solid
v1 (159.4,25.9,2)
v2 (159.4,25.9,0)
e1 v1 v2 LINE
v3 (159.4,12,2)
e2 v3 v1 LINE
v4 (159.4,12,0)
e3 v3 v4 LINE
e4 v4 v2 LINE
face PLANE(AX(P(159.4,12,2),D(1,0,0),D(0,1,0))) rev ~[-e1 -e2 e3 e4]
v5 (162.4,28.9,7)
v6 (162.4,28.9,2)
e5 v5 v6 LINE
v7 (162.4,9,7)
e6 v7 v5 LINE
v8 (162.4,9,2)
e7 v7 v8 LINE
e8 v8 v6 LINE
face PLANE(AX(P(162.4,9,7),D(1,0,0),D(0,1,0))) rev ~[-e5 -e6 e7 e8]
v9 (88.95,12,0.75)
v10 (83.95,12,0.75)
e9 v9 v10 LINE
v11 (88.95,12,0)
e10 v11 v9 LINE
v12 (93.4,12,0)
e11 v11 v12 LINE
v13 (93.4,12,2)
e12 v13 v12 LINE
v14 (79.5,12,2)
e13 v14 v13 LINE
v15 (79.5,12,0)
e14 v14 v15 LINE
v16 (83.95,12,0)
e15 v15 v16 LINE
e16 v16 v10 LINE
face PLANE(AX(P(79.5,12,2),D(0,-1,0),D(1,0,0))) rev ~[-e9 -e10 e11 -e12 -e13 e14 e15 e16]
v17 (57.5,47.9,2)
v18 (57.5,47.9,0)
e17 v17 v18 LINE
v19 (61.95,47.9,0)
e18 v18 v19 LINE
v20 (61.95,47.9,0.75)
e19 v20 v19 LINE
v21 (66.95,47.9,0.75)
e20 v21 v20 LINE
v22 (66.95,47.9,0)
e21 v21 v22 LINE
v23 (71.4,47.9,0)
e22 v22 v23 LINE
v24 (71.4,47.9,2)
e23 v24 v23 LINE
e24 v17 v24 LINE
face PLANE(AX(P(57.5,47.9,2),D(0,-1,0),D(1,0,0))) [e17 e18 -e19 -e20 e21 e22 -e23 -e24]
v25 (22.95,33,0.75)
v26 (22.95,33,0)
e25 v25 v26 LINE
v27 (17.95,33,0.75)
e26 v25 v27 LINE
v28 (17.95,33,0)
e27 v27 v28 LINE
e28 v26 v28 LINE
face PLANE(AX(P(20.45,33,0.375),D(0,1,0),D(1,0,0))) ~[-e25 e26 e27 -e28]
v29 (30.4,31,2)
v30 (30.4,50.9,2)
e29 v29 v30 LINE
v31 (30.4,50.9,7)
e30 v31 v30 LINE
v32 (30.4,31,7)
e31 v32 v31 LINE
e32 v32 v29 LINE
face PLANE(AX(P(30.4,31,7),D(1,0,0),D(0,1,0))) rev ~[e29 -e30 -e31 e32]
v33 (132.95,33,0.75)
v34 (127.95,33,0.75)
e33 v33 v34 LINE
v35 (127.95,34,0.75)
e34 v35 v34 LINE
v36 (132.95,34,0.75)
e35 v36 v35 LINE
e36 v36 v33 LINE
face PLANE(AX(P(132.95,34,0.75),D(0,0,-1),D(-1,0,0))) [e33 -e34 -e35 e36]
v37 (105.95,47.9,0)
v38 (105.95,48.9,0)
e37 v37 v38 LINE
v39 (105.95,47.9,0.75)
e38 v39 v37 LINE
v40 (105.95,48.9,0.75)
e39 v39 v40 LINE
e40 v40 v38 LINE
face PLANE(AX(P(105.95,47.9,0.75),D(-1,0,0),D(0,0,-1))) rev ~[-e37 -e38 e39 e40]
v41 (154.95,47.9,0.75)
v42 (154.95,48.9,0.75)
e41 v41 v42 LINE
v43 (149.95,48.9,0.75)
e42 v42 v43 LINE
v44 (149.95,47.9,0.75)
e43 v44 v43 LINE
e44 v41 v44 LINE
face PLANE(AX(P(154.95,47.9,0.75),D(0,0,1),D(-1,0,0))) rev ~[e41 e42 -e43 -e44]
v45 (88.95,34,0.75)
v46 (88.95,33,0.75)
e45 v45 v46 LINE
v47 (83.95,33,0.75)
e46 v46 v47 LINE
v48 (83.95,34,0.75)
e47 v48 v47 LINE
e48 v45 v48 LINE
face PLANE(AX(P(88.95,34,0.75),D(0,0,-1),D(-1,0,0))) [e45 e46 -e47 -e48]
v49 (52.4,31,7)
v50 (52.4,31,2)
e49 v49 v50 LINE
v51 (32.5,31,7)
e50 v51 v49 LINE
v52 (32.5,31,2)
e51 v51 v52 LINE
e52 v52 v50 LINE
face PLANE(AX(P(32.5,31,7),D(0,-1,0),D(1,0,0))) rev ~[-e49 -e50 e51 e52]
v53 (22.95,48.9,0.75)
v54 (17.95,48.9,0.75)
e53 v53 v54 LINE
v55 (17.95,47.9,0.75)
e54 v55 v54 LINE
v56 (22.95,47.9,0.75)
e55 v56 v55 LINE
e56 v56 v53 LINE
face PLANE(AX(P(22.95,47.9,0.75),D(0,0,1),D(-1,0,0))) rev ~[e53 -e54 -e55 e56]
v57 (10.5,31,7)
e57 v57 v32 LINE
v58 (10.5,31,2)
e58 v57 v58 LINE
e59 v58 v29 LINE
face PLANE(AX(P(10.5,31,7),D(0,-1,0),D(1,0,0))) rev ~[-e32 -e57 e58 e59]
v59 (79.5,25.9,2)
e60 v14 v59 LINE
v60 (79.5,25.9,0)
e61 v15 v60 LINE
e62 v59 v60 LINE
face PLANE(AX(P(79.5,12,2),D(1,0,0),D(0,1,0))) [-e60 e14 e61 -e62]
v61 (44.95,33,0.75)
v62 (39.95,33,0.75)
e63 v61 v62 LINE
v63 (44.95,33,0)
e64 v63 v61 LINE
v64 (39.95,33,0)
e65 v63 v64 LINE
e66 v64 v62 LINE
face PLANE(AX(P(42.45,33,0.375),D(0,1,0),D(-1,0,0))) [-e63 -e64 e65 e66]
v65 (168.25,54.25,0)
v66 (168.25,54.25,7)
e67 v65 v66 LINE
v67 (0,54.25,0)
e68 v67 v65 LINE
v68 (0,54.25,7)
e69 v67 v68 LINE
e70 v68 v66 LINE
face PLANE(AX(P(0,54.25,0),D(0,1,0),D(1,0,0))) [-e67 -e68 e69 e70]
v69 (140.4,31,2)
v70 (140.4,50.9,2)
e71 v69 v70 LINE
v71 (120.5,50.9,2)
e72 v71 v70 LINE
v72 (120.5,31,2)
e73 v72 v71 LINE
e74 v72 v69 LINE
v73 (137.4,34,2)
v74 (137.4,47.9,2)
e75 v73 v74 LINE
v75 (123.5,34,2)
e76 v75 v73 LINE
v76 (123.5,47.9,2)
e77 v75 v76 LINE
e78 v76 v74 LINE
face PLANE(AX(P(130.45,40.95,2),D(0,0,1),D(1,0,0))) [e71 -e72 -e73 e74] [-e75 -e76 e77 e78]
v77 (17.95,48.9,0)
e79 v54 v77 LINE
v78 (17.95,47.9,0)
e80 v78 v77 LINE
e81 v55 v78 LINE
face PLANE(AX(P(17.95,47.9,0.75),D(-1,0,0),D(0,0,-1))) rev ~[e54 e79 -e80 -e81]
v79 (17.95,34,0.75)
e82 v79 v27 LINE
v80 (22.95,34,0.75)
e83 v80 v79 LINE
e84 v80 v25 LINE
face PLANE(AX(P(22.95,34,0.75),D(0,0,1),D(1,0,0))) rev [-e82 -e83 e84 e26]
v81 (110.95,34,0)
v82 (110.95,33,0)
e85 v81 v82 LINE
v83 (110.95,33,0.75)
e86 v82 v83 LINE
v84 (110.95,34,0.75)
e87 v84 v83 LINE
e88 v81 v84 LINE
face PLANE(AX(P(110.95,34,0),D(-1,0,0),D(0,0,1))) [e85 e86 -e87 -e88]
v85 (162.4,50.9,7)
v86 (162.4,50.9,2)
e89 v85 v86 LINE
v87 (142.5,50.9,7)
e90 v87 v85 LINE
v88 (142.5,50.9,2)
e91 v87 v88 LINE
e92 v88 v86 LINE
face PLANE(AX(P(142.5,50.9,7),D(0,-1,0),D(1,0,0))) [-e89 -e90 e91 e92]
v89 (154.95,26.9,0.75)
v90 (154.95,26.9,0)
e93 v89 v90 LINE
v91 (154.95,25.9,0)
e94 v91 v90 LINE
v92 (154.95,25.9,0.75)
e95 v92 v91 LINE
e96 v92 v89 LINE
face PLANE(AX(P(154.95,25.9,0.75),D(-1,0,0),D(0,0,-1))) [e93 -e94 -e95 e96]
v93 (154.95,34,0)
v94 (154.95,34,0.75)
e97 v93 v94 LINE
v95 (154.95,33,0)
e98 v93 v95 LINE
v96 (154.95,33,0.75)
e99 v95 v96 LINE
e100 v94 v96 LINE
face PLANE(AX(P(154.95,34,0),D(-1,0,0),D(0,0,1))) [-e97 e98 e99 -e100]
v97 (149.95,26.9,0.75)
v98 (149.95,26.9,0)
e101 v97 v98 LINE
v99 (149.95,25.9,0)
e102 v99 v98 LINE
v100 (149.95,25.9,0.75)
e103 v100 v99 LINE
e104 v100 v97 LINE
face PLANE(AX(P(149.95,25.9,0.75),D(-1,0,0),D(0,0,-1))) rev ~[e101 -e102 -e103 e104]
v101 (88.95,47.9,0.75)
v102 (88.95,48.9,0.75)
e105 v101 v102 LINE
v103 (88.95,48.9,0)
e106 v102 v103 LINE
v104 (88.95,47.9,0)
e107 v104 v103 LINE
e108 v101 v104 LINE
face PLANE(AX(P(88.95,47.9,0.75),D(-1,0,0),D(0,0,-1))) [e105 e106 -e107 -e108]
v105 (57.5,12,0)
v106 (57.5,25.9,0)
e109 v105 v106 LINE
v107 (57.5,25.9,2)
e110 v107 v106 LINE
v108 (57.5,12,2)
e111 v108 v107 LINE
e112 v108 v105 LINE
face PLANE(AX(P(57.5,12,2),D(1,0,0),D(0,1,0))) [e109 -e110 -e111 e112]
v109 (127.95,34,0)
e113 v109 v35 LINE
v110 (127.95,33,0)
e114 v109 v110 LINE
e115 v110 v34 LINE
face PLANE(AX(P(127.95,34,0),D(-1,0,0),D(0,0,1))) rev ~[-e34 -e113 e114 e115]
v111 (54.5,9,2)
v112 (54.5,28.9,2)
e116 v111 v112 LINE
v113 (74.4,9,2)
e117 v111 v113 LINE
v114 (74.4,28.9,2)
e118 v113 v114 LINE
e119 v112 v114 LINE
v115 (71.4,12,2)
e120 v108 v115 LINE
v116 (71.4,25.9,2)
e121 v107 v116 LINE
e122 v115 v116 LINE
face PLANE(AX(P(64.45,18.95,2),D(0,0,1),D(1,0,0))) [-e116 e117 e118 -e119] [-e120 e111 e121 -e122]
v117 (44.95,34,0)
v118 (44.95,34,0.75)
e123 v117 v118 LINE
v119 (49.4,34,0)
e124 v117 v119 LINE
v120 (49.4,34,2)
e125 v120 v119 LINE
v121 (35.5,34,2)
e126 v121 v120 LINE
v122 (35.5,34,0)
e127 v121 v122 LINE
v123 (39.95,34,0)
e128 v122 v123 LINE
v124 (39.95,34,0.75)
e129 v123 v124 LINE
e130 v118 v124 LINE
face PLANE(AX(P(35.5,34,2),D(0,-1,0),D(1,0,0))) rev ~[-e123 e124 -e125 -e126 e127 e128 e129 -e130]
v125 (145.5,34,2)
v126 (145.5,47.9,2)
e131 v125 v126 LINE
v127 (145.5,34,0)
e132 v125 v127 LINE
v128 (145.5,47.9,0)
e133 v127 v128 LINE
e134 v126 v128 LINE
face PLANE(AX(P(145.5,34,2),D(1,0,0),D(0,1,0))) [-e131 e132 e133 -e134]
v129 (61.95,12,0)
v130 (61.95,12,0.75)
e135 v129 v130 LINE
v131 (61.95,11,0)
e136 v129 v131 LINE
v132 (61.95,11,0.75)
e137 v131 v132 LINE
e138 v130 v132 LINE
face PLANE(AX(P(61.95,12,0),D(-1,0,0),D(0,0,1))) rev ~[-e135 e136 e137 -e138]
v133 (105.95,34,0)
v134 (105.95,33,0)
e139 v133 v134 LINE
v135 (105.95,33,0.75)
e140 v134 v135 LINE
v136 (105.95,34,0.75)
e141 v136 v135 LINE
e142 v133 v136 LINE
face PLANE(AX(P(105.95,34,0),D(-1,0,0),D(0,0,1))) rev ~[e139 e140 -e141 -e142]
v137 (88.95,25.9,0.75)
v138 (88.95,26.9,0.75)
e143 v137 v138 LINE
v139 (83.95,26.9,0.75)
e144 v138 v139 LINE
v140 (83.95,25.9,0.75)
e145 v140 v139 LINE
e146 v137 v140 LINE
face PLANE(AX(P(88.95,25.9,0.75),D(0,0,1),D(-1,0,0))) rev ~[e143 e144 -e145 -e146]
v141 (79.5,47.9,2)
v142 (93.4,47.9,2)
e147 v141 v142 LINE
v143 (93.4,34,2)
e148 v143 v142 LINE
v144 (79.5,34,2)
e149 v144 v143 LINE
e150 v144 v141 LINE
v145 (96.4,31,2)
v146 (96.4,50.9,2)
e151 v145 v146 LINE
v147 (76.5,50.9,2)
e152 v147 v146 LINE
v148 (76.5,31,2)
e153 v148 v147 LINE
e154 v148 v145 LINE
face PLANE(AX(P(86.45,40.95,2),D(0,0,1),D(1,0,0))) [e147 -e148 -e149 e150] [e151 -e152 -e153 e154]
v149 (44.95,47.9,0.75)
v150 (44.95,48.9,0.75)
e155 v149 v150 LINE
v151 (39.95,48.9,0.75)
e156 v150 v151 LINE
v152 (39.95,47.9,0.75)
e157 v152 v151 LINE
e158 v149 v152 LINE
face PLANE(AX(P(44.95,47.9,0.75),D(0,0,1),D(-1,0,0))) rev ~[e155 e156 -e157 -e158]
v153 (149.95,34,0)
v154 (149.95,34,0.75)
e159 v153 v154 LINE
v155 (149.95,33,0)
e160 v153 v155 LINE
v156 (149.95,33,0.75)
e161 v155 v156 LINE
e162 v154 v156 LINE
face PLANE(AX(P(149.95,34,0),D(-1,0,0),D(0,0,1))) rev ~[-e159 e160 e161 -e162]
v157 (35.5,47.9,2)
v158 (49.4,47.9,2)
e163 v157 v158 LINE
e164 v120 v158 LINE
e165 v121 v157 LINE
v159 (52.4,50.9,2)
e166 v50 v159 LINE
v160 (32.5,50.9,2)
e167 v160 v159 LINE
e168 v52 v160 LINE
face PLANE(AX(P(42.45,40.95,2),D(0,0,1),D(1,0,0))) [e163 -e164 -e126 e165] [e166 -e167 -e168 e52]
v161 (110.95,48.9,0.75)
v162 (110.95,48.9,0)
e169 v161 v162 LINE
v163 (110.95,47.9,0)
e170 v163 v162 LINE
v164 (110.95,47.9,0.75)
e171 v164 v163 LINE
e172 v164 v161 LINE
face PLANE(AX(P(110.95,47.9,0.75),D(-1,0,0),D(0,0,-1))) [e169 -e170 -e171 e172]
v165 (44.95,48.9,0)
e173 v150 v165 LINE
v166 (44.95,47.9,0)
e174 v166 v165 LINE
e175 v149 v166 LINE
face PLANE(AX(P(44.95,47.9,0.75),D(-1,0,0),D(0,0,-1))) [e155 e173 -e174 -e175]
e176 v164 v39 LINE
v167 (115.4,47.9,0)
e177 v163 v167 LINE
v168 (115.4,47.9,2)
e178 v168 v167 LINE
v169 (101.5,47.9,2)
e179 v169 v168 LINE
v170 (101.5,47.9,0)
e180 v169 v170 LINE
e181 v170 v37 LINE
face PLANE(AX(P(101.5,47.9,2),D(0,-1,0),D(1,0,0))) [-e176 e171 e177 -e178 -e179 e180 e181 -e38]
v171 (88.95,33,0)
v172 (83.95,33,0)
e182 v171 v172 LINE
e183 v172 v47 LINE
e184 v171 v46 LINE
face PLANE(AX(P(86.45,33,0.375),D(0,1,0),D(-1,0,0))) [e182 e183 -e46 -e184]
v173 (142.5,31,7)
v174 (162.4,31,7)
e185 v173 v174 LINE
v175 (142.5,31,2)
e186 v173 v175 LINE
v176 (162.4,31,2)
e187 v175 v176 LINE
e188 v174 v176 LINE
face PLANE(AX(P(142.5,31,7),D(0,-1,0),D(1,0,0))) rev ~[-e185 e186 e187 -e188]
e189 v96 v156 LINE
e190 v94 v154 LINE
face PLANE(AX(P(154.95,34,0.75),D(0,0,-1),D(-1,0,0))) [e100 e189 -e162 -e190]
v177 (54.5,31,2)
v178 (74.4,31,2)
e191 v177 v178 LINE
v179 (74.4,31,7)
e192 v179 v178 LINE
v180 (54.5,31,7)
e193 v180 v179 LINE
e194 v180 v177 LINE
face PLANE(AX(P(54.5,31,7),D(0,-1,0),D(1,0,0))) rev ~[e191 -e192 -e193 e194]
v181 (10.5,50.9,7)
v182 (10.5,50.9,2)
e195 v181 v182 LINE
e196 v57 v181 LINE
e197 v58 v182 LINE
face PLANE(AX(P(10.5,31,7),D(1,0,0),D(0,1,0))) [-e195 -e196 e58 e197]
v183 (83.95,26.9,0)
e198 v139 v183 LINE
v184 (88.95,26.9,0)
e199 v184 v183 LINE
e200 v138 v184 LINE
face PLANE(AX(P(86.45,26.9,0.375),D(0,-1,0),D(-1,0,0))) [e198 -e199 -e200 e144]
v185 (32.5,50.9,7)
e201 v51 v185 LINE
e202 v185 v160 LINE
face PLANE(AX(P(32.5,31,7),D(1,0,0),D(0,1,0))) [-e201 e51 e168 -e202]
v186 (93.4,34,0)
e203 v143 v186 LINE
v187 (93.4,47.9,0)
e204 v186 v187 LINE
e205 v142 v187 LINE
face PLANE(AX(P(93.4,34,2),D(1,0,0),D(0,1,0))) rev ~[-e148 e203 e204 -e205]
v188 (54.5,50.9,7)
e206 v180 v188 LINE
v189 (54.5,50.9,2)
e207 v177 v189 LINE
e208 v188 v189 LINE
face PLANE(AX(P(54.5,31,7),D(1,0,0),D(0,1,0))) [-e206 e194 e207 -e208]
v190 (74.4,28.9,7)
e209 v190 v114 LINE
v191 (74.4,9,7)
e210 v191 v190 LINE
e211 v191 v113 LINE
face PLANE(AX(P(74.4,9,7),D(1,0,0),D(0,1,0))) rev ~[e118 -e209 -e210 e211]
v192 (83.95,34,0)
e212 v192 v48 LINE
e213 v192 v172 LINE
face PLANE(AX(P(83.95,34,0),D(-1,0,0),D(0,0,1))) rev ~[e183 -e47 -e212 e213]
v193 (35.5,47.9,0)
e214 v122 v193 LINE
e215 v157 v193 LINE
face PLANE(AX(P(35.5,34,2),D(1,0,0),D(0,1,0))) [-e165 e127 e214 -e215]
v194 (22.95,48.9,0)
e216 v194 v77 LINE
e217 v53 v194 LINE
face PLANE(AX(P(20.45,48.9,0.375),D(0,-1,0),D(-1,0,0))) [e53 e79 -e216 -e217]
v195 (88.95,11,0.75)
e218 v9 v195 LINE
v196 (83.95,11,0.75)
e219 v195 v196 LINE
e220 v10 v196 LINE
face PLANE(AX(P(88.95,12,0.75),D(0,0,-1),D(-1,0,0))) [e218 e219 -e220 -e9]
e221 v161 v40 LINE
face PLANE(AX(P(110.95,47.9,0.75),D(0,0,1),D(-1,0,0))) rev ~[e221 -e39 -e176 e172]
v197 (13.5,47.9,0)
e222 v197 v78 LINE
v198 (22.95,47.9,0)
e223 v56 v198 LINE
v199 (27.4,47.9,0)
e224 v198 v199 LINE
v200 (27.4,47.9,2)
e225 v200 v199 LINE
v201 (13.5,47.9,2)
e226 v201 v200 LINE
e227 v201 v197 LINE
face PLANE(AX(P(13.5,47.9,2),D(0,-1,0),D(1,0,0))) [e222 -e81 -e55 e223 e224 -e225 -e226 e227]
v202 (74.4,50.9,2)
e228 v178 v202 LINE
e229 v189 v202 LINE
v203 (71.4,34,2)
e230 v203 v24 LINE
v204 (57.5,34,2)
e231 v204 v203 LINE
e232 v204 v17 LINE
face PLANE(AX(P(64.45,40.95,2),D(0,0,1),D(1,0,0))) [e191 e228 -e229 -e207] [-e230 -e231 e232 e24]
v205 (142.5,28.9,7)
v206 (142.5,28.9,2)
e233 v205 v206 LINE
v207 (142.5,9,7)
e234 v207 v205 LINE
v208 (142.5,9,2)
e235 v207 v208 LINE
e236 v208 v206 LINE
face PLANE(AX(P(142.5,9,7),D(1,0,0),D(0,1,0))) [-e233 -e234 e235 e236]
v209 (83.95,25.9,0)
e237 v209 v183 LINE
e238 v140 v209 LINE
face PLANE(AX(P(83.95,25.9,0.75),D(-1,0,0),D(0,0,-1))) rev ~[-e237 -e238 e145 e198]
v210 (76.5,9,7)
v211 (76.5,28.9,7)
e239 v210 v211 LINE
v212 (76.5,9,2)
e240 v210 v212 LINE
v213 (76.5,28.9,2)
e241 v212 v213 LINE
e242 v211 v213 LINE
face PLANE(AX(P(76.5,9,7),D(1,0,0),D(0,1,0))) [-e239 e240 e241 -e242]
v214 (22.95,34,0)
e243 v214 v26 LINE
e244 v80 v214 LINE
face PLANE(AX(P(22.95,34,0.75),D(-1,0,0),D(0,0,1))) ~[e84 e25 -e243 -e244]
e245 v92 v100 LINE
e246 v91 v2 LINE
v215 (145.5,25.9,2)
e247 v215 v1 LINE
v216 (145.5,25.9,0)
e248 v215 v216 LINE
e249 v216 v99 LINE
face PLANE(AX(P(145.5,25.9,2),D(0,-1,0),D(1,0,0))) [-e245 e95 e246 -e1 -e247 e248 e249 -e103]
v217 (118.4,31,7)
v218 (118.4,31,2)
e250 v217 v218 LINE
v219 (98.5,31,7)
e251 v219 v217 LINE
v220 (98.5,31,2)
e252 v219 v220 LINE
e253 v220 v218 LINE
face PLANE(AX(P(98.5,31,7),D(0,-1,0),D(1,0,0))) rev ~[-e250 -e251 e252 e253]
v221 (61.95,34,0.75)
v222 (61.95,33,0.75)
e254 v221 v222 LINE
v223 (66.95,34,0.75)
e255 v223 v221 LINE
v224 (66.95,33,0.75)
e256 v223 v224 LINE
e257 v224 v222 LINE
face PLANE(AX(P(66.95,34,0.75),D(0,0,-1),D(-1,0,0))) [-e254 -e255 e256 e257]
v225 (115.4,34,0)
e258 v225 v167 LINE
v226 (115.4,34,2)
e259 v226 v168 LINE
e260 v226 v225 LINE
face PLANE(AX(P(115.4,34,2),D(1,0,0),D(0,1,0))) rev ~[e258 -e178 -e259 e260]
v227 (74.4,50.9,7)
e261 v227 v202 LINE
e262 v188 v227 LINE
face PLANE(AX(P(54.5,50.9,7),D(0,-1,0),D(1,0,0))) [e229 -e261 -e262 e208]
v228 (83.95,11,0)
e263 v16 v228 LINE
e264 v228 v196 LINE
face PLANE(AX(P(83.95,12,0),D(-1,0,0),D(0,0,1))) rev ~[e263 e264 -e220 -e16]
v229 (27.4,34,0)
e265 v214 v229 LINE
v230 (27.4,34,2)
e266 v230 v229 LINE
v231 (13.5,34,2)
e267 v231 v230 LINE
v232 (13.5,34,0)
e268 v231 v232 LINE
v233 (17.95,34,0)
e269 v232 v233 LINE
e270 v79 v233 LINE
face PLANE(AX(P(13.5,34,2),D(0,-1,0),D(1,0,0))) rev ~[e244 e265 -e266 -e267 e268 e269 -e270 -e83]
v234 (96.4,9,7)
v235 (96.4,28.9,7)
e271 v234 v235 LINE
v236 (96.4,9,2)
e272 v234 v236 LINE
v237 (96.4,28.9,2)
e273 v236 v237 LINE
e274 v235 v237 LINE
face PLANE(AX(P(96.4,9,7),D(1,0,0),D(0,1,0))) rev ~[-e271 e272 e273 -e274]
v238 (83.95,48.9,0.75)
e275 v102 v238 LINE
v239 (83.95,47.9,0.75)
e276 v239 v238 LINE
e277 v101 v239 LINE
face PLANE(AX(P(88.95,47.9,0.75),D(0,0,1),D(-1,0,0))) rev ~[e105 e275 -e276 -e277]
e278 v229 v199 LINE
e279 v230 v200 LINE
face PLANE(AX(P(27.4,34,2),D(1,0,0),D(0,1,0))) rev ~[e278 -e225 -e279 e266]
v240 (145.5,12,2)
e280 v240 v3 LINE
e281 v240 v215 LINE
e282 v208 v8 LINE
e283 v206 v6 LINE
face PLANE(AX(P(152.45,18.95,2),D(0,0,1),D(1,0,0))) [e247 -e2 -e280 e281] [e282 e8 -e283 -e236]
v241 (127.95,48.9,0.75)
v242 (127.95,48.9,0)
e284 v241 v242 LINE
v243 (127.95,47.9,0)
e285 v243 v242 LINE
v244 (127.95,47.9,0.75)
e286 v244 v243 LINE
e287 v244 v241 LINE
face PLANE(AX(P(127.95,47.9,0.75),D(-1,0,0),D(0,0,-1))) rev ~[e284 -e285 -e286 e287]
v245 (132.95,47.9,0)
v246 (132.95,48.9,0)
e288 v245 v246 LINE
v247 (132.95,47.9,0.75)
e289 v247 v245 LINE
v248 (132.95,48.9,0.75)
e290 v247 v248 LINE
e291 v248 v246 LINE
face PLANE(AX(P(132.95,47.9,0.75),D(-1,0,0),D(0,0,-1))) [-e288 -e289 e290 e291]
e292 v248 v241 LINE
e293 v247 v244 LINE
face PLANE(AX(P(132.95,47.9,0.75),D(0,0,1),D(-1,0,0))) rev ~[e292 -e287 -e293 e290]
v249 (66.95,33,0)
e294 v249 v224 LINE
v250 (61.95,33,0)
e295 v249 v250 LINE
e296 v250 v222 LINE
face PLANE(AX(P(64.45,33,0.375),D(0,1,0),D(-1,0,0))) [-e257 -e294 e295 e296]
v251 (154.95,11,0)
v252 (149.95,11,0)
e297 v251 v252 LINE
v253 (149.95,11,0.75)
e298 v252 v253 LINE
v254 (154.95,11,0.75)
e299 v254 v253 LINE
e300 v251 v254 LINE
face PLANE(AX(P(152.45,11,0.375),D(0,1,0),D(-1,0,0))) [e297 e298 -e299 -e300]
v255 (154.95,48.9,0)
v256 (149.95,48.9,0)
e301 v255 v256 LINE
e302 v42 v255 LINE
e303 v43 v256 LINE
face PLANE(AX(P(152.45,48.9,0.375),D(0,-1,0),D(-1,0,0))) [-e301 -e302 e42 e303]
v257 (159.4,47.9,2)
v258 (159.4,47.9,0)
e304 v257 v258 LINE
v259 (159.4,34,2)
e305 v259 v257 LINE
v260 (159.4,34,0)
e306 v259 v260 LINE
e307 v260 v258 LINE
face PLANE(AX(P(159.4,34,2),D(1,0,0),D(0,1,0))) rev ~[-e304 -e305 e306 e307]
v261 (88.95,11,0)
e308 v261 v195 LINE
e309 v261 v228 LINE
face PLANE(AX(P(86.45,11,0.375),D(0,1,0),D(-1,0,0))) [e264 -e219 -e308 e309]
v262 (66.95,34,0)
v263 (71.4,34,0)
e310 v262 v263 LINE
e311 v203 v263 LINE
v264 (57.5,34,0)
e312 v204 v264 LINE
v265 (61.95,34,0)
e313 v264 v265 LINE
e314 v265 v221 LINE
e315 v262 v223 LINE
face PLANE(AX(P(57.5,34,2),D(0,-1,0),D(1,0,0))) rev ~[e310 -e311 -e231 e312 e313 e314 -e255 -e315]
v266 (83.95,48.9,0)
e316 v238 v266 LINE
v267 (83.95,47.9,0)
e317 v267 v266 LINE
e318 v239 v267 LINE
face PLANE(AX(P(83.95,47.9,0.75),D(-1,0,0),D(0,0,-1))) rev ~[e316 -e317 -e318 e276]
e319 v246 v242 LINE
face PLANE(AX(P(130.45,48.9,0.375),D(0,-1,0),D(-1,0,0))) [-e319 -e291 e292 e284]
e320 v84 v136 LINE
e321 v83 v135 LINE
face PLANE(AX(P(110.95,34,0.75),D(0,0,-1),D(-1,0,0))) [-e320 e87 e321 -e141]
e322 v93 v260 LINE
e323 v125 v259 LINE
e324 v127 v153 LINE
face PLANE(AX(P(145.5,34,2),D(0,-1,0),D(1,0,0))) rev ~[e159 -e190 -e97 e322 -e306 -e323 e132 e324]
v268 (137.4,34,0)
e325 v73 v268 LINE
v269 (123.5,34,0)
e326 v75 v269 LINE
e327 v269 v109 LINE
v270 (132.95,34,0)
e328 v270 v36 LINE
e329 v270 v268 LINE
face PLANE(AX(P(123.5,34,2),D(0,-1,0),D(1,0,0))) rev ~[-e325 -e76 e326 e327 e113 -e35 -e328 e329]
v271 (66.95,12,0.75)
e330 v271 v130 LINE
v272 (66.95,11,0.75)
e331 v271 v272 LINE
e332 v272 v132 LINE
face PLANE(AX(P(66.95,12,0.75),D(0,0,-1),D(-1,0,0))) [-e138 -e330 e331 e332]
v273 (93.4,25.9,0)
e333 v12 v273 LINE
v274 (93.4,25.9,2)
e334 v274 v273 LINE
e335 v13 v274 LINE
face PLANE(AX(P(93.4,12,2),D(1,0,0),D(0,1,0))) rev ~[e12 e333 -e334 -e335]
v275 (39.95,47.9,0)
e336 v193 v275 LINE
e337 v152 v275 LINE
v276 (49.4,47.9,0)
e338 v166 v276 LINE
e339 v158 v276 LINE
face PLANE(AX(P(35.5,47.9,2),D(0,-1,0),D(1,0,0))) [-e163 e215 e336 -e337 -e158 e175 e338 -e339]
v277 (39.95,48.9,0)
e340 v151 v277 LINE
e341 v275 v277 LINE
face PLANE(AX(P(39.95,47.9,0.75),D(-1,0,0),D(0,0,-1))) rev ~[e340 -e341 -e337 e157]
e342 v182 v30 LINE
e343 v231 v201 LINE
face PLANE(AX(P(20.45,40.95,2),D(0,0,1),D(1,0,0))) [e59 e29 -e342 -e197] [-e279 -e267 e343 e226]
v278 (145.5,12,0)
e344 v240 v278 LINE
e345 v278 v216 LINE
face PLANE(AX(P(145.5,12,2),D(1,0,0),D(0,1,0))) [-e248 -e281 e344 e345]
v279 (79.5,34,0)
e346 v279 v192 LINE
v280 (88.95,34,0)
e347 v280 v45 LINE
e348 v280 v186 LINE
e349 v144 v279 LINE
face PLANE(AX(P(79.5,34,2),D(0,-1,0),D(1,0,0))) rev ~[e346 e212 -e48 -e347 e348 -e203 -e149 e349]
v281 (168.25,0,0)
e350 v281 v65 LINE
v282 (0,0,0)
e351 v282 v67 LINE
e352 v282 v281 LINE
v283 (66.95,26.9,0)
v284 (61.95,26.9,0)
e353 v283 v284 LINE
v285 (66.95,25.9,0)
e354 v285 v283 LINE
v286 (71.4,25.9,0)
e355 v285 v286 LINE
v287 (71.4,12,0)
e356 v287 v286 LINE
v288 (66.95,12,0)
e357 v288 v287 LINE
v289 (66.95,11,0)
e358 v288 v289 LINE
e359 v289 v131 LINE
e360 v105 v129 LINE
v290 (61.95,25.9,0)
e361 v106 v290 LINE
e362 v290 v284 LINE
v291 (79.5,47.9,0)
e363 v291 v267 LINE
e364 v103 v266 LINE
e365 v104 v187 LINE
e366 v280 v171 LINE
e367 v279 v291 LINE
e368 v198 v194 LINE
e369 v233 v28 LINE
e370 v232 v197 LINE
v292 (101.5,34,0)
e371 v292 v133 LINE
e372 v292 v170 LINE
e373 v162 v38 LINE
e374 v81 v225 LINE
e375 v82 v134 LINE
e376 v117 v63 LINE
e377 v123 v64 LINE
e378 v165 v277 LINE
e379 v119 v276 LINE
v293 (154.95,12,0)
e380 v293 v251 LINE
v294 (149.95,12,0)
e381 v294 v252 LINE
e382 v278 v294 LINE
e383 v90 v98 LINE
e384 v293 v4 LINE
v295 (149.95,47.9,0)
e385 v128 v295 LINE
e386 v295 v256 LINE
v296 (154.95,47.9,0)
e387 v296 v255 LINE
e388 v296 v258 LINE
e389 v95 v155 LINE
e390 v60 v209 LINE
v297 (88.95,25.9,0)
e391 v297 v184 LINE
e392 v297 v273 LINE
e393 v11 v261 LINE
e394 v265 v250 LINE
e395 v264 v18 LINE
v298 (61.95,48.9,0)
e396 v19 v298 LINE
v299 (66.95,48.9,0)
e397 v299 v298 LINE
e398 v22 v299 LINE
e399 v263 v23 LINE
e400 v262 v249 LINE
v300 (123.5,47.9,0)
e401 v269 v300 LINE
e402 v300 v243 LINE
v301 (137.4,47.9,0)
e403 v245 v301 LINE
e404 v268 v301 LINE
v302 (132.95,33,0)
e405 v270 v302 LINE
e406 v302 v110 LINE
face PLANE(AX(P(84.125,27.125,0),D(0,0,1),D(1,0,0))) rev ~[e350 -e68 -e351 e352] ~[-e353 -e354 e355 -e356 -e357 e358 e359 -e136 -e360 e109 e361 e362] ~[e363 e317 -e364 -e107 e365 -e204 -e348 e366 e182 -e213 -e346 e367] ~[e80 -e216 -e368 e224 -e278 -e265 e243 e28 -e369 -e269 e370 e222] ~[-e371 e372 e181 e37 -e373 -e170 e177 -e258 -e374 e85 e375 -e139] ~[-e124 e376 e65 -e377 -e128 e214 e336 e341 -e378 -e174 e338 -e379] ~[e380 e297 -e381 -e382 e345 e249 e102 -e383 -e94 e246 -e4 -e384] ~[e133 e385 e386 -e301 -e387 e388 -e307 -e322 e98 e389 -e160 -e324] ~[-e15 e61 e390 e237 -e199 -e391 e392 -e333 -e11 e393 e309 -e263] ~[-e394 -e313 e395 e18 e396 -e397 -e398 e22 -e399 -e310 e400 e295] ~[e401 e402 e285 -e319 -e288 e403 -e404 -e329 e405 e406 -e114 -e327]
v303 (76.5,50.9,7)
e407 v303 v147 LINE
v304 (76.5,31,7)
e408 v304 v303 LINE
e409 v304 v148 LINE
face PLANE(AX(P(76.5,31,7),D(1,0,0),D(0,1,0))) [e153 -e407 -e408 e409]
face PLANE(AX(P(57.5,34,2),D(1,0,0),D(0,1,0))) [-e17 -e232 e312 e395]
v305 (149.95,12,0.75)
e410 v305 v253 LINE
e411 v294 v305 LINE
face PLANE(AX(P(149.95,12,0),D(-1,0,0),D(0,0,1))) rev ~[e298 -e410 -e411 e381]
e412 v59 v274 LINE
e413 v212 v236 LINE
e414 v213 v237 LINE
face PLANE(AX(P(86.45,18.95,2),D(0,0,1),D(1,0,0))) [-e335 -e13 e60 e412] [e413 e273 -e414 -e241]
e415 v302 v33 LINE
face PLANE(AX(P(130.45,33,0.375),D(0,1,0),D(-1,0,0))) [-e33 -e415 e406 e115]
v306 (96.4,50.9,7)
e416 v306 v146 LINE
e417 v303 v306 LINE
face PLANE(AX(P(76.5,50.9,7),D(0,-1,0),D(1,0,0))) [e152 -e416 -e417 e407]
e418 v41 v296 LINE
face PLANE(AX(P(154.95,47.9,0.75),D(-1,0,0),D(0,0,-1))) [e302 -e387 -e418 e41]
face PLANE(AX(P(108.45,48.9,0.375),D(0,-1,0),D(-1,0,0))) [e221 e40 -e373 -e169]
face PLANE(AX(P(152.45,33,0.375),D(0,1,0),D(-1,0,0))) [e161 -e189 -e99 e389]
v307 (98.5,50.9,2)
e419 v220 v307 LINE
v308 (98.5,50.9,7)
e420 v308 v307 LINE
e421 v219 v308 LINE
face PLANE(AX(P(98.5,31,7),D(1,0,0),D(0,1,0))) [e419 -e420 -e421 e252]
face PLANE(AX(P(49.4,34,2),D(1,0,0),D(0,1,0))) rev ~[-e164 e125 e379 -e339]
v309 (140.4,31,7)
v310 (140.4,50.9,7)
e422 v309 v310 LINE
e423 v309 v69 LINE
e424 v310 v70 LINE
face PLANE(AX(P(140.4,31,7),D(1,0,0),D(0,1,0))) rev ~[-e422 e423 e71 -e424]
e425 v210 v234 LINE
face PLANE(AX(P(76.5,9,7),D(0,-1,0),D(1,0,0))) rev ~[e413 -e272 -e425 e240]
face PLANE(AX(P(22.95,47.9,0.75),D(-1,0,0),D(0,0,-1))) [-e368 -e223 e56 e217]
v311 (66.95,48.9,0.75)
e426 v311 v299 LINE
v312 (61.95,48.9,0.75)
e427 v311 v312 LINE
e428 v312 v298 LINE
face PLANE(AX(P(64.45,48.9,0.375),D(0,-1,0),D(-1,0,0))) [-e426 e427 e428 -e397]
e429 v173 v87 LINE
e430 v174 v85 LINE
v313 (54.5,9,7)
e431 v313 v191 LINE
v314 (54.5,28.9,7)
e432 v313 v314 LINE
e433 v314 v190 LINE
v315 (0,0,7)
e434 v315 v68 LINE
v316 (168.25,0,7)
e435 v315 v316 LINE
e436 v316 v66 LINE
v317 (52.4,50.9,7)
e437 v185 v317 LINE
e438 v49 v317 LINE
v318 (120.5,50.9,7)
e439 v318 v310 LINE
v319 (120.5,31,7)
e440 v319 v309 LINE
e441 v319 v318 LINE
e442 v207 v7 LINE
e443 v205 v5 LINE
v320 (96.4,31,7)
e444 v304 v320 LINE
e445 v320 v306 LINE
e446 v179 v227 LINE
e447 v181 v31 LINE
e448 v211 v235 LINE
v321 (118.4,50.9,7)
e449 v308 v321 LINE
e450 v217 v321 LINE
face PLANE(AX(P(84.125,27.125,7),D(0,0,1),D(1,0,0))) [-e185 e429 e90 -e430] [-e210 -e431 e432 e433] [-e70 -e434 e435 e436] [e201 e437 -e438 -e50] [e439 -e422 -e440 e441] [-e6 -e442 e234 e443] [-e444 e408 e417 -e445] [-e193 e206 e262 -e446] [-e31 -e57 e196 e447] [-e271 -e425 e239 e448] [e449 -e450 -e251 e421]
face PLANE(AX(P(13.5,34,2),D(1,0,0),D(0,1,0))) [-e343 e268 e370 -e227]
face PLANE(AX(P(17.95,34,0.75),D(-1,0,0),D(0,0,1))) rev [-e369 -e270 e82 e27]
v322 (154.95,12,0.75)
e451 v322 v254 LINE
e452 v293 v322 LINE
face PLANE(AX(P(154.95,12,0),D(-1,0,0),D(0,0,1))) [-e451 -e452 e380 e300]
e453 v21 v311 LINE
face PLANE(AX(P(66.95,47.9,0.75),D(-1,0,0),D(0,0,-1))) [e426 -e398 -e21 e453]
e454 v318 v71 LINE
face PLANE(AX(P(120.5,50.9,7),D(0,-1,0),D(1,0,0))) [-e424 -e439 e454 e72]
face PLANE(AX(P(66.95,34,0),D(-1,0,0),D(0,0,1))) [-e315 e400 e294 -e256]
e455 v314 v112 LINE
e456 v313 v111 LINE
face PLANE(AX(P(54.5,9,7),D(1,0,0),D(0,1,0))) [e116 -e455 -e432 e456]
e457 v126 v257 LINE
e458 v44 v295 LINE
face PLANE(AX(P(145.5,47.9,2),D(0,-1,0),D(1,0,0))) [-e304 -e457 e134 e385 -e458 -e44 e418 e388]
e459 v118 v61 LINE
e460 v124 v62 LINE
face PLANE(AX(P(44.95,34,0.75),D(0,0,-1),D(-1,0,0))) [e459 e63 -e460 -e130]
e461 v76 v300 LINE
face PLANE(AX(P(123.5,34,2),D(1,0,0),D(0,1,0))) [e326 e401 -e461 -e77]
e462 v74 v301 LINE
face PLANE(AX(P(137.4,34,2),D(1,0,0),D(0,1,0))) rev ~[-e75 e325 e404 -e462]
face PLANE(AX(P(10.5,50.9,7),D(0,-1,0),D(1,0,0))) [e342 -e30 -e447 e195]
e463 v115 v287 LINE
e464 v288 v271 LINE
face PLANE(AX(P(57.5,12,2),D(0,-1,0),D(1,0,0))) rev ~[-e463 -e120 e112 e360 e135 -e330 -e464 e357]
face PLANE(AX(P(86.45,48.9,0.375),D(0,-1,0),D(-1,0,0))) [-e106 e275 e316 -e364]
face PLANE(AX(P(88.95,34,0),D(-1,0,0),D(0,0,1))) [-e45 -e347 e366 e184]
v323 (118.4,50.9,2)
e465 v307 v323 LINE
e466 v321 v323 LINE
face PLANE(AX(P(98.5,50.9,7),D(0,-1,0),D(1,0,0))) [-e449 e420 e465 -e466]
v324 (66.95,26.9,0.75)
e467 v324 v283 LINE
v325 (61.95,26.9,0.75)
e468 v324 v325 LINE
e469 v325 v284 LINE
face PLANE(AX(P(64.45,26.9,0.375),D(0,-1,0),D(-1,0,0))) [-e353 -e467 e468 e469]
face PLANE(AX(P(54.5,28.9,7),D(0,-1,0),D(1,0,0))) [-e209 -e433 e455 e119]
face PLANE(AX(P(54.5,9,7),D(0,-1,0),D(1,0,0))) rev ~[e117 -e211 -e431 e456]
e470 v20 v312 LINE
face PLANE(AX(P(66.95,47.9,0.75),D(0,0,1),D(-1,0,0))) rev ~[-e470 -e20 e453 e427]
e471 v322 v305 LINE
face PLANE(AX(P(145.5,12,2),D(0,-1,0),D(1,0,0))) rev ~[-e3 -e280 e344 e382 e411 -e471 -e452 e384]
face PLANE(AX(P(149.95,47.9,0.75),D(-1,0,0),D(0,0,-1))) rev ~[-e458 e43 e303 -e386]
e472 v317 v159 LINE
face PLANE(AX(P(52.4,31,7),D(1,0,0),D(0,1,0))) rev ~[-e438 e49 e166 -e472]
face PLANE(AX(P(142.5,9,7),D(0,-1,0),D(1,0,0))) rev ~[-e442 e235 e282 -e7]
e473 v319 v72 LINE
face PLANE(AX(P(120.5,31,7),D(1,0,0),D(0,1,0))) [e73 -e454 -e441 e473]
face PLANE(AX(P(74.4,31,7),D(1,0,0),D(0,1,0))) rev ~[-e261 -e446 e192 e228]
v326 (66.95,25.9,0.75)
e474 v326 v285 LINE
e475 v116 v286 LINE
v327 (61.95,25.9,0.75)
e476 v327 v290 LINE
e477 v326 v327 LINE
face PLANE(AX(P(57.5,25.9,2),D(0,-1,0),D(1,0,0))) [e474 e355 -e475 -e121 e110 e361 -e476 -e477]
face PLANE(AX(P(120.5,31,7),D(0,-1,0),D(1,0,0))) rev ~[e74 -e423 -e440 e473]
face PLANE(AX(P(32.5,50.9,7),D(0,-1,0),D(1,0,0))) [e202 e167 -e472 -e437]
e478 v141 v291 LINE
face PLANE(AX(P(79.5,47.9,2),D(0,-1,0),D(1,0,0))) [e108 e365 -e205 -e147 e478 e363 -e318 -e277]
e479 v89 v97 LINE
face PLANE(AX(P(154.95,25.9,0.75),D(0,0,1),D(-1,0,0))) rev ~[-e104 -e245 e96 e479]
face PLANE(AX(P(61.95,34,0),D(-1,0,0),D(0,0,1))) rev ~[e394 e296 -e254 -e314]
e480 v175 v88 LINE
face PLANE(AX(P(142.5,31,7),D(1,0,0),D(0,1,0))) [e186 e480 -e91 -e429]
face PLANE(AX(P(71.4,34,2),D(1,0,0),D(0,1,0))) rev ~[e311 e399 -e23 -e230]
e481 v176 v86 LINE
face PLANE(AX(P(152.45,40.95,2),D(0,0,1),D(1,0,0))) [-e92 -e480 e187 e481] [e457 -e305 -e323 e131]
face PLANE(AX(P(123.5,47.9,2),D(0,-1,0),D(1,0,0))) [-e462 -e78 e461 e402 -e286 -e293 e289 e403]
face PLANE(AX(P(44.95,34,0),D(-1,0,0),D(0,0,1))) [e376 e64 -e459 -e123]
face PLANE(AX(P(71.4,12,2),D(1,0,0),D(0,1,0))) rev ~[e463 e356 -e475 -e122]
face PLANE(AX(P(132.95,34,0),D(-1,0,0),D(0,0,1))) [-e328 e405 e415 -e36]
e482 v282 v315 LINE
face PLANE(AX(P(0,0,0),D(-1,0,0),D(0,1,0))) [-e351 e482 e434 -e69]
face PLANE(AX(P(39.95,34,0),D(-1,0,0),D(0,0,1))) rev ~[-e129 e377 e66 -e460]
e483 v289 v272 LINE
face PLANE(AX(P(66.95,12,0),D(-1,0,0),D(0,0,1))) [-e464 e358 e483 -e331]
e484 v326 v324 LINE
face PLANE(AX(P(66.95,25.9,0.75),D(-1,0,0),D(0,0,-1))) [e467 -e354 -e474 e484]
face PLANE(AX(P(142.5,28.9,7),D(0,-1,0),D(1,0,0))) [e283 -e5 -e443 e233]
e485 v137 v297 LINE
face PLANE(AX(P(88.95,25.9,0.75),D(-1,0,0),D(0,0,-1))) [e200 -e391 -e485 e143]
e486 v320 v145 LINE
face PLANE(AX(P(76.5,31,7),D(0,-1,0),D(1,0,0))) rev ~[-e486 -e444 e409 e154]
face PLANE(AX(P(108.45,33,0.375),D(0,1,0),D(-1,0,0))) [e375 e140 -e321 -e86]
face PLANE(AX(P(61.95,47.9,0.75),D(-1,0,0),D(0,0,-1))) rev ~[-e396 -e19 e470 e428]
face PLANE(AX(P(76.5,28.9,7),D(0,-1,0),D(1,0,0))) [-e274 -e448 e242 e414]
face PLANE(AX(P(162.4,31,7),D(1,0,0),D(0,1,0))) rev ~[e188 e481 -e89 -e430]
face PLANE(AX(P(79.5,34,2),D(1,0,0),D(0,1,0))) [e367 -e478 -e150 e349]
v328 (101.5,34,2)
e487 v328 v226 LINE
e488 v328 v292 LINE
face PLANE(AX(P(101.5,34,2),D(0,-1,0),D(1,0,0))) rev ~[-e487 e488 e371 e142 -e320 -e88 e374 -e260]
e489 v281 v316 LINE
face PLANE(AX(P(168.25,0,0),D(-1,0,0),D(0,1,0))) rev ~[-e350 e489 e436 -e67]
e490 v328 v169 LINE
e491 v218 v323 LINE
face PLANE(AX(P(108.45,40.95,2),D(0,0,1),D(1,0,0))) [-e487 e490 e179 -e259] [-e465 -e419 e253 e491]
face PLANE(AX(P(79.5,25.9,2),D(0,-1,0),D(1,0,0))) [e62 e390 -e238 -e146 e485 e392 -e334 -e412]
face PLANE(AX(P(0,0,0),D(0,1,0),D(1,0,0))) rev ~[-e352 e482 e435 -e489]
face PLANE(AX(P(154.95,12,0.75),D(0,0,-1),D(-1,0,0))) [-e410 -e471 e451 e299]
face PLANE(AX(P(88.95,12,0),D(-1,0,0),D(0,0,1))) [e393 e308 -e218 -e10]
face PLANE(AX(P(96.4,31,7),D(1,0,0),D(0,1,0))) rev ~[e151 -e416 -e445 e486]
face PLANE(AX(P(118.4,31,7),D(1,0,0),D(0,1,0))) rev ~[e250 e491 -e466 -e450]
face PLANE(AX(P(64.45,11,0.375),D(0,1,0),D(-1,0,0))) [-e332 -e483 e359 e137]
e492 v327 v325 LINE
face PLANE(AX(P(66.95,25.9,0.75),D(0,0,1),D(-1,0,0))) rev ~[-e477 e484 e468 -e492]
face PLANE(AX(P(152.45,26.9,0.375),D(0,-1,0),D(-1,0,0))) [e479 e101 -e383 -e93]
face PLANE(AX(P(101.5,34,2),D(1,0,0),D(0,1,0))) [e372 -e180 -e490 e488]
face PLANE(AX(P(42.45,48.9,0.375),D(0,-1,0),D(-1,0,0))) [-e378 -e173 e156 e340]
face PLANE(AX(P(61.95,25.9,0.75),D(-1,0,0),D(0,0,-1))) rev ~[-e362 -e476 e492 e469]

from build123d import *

# Parameters (mm, degrees)
SKETCH6_W                 = 168.25
SKETCH6_H                 = 54.25
BOSS_EXTRUDE2_DEPTH       = 7
SKETCH7_W                 = 19.9
SKETCH7_H                 = 19.9
CUT_EXTRUDE4_DEPTH        = 5
SKETCH8_W                 = 13.9
SKETCH8_H                 = 13.9
CUT_EXTRUDE5_DEPTH        = 4
SKETCH9_W                 = 5
SKETCH9_H                 = 0.75
CUT_EXTRUDE6_DEPTH        = 1
LPATTERN1_COUNT           = 7
LPATTERN1_PITCH           = 22
LPATTERN1_COUNT_DIR2      = 2
LPATTERN1_PITCH_DIR2      = 22
LPATTERN1_COPY_1_SKETCH_W = 5
LPATTERN1_COPY_1_SKETCH_H = 0.75
LPATTERN1_COPY_1_DEPTH    = 1
LPATTERN1_COPY_2_SKETCH_W = 5
LPATTERN1_COPY_2_SKETCH_H = 0.75
LPATTERN1_COPY_2_DEPTH    = 1
LPATTERN1_COPY_3_SKETCH_W = 5
LPATTERN1_COPY_3_SKETCH_H = 0.75
LPATTERN1_COPY_3_DEPTH    = 1
LPATTERN1_COPY_4_SKETCH_W = 5
LPATTERN1_COPY_4_SKETCH_H = 0.75
LPATTERN1_COPY_4_DEPTH    = 1
LPATTERN1_COPY_5_SKETCH_W = 5
LPATTERN1_COPY_5_SKETCH_H = 0.75
LPATTERN1_COPY_5_DEPTH    = 1
LPATTERN1_COPY_6_SKETCH_W = 5
LPATTERN1_COPY_6_SKETCH_H = 0.75
LPATTERN1_COPY_6_DEPTH    = 1
LPATTERN1_COPY_7_SKETCH_W = 5
LPATTERN1_COPY_7_SKETCH_H = 0.75
LPATTERN1_COPY_7_DEPTH    = 1
LPATTERN1_COPY_8_SKETCH_W = 5
LPATTERN1_COPY_8_SKETCH_H = 0.75
LPATTERN1_COPY_8_DEPTH    = 1
LPATTERN1_COPY_9_SKETCH_W = 5
LPATTERN1_COPY_9_SKETCH_H = 0.75
LPATTERN1_COPY_9_DEPTH    = 1


with BuildPart() as part:
    # Sketch6 → Boss-Extrude2 (new body)
    with BuildSketch(Plane.XY):
        with Locations((84.125, 27.125)):
            Rectangle(SKETCH6_W, SKETCH6_H)
    extrude(amount=BOSS_EXTRUDE2_DEPTH)

    # Sketch7 → Cut-Extrude4 (cut)
    with BuildSketch(Plane.XY.offset(7)):
        with Locations((20.45, 40.95)):
            Rectangle(SKETCH7_W, SKETCH7_H)
    cut_extrude4 = extrude(amount=-CUT_EXTRUDE4_DEPTH, mode=Mode.SUBTRACT)

    # Sketch8 → Cut-Extrude5 (cut)
    with BuildSketch(Plane.XY.offset(2)):
        with Locations((20.45, 40.95)):
            Rectangle(SKETCH8_W, SKETCH8_H)
    cut_extrude5 = extrude(amount=-CUT_EXTRUDE5_DEPTH, mode=Mode.SUBTRACT)

    # Sketch9 → Cut-Extrude6 (cut)
    with BuildSketch(Plane(origin=(0, 47.9, 0), x_dir=(-1, 0, 0), z_dir=(0, -1, 0))):
        with Locations((-20.45, -0.375)):
            Rectangle(SKETCH9_W, SKETCH9_H)
    cut_extrude6 = extrude(amount=-CUT_EXTRUDE6_DEPTH, mode=Mode.SUBTRACT)

    # Mirror2: Cut-Extrude6 across plane
    add(cut_extrude6.mirror(Plane(origin=(0, 40.95, 0), x_dir=(0, 0, 1), z_dir=(0, -1, 0))), mode=Mode.SUBTRACT)

    # LPattern1: Cut-Extrude4, Cut-Extrude5, Cut-Extrude6 7 × 2, 4 skipped
    with Locations(*[(i * LPATTERN1_PITCH, -j * LPATTERN1_PITCH_DIR2, 0) for i in range(LPATTERN1_COUNT) for j in range(LPATTERN1_COUNT_DIR2) if (i, j) not in ((0, 0), (0, 1), (1, 1), (4, 1), (5, 1))]):
        add(cut_extrude4, mode=Mode.SUBTRACT)
        add(cut_extrude5, mode=Mode.SUBTRACT)
        add(cut_extrude6, mode=Mode.SUBTRACT)

    # LPattern1 copy 1 sketch → LPattern1 copy 1 (cut)
    with BuildSketch(Plane(origin=(22, 34, 0), x_dir=(-1, 0, 0), z_dir=(0, 1, 0))):
        with Locations((-20.45, 0.375)):
            Rectangle(LPATTERN1_COPY_1_SKETCH_W, LPATTERN1_COPY_1_SKETCH_H)
    extrude(amount=-LPATTERN1_COPY_1_DEPTH, mode=Mode.SUBTRACT)

    # LPattern1 copy 2 sketch → LPattern1 copy 2 (cut)
    with BuildSketch(Plane(origin=(44, 34, 0), x_dir=(-1, 0, 0), z_dir=(0, 1, 0))):
        with Locations((-20.45, 0.375)):
            Rectangle(LPATTERN1_COPY_2_SKETCH_W, LPATTERN1_COPY_2_SKETCH_H)
    extrude(amount=-LPATTERN1_COPY_2_DEPTH, mode=Mode.SUBTRACT)

    # LPattern1 copy 3 sketch → LPattern1 copy 3 (cut)
    with BuildSketch(Plane(origin=(44, 12, 0), x_dir=(-1, 0, 0), z_dir=(0, 1, 0))):
        with Locations((-20.45, 0.375)):
            Rectangle(LPATTERN1_COPY_3_SKETCH_W, LPATTERN1_COPY_3_SKETCH_H)
    extrude(amount=-LPATTERN1_COPY_3_DEPTH, mode=Mode.SUBTRACT)

    # LPattern1 copy 4 sketch → LPattern1 copy 4 (cut)
    with BuildSketch(Plane(origin=(66, 34, 0), x_dir=(-1, 0, 0), z_dir=(0, 1, 0))):
        with Locations((-20.45, 0.375)):
            Rectangle(LPATTERN1_COPY_4_SKETCH_W, LPATTERN1_COPY_4_SKETCH_H)
    extrude(amount=-LPATTERN1_COPY_4_DEPTH, mode=Mode.SUBTRACT)

    # LPattern1 copy 5 sketch → LPattern1 copy 5 (cut)
    with BuildSketch(Plane(origin=(66, 12, 0), x_dir=(-1, 0, 0), z_dir=(0, 1, 0))):
        with Locations((-20.45, 0.375)):
            Rectangle(LPATTERN1_COPY_5_SKETCH_W, LPATTERN1_COPY_5_SKETCH_H)
    extrude(amount=-LPATTERN1_COPY_5_DEPTH, mode=Mode.SUBTRACT)

    # LPattern1 copy 6 sketch → LPattern1 copy 6 (cut)
    with BuildSketch(Plane(origin=(88, 34, 0), x_dir=(-1, 0, 0), z_dir=(0, 1, 0))):
        with Locations((-20.45, 0.375)):
            Rectangle(LPATTERN1_COPY_6_SKETCH_W, LPATTERN1_COPY_6_SKETCH_H)
    extrude(amount=-LPATTERN1_COPY_6_DEPTH, mode=Mode.SUBTRACT)

    # LPattern1 copy 7 sketch → LPattern1 copy 7 (cut)
    with BuildSketch(Plane(origin=(110, 34, 0), x_dir=(-1, 0, 0), z_dir=(0, 1, 0))):
        with Locations((-20.45, 0.375)):
            Rectangle(LPATTERN1_COPY_7_SKETCH_W, LPATTERN1_COPY_7_SKETCH_H)
    extrude(amount=-LPATTERN1_COPY_7_DEPTH, mode=Mode.SUBTRACT)

    # LPattern1 copy 8 sketch → LPattern1 copy 8 (cut)
    with BuildSketch(Plane(origin=(132, 34, 0), x_dir=(-1, 0, 0), z_dir=(0, 1, 0))):
        with Locations((-20.45, 0.375)):
            Rectangle(LPATTERN1_COPY_8_SKETCH_W, LPATTERN1_COPY_8_SKETCH_H)
    extrude(amount=-LPATTERN1_COPY_8_DEPTH, mode=Mode.SUBTRACT)

    # LPattern1 copy 9 sketch → LPattern1 copy 9 (cut)
    with BuildSketch(Plane(origin=(132, 12, 0), x_dir=(-1, 0, 0), z_dir=(0, 1, 0))):
        with Locations((-20.45, 0.375)):
            Rectangle(LPATTERN1_COPY_9_SKETCH_W, LPATTERN1_COPY_9_SKETCH_H)
    extrude(amount=-LPATTERN1_COPY_9_DEPTH, mode=Mode.SUBTRACT)


solid = part.part
